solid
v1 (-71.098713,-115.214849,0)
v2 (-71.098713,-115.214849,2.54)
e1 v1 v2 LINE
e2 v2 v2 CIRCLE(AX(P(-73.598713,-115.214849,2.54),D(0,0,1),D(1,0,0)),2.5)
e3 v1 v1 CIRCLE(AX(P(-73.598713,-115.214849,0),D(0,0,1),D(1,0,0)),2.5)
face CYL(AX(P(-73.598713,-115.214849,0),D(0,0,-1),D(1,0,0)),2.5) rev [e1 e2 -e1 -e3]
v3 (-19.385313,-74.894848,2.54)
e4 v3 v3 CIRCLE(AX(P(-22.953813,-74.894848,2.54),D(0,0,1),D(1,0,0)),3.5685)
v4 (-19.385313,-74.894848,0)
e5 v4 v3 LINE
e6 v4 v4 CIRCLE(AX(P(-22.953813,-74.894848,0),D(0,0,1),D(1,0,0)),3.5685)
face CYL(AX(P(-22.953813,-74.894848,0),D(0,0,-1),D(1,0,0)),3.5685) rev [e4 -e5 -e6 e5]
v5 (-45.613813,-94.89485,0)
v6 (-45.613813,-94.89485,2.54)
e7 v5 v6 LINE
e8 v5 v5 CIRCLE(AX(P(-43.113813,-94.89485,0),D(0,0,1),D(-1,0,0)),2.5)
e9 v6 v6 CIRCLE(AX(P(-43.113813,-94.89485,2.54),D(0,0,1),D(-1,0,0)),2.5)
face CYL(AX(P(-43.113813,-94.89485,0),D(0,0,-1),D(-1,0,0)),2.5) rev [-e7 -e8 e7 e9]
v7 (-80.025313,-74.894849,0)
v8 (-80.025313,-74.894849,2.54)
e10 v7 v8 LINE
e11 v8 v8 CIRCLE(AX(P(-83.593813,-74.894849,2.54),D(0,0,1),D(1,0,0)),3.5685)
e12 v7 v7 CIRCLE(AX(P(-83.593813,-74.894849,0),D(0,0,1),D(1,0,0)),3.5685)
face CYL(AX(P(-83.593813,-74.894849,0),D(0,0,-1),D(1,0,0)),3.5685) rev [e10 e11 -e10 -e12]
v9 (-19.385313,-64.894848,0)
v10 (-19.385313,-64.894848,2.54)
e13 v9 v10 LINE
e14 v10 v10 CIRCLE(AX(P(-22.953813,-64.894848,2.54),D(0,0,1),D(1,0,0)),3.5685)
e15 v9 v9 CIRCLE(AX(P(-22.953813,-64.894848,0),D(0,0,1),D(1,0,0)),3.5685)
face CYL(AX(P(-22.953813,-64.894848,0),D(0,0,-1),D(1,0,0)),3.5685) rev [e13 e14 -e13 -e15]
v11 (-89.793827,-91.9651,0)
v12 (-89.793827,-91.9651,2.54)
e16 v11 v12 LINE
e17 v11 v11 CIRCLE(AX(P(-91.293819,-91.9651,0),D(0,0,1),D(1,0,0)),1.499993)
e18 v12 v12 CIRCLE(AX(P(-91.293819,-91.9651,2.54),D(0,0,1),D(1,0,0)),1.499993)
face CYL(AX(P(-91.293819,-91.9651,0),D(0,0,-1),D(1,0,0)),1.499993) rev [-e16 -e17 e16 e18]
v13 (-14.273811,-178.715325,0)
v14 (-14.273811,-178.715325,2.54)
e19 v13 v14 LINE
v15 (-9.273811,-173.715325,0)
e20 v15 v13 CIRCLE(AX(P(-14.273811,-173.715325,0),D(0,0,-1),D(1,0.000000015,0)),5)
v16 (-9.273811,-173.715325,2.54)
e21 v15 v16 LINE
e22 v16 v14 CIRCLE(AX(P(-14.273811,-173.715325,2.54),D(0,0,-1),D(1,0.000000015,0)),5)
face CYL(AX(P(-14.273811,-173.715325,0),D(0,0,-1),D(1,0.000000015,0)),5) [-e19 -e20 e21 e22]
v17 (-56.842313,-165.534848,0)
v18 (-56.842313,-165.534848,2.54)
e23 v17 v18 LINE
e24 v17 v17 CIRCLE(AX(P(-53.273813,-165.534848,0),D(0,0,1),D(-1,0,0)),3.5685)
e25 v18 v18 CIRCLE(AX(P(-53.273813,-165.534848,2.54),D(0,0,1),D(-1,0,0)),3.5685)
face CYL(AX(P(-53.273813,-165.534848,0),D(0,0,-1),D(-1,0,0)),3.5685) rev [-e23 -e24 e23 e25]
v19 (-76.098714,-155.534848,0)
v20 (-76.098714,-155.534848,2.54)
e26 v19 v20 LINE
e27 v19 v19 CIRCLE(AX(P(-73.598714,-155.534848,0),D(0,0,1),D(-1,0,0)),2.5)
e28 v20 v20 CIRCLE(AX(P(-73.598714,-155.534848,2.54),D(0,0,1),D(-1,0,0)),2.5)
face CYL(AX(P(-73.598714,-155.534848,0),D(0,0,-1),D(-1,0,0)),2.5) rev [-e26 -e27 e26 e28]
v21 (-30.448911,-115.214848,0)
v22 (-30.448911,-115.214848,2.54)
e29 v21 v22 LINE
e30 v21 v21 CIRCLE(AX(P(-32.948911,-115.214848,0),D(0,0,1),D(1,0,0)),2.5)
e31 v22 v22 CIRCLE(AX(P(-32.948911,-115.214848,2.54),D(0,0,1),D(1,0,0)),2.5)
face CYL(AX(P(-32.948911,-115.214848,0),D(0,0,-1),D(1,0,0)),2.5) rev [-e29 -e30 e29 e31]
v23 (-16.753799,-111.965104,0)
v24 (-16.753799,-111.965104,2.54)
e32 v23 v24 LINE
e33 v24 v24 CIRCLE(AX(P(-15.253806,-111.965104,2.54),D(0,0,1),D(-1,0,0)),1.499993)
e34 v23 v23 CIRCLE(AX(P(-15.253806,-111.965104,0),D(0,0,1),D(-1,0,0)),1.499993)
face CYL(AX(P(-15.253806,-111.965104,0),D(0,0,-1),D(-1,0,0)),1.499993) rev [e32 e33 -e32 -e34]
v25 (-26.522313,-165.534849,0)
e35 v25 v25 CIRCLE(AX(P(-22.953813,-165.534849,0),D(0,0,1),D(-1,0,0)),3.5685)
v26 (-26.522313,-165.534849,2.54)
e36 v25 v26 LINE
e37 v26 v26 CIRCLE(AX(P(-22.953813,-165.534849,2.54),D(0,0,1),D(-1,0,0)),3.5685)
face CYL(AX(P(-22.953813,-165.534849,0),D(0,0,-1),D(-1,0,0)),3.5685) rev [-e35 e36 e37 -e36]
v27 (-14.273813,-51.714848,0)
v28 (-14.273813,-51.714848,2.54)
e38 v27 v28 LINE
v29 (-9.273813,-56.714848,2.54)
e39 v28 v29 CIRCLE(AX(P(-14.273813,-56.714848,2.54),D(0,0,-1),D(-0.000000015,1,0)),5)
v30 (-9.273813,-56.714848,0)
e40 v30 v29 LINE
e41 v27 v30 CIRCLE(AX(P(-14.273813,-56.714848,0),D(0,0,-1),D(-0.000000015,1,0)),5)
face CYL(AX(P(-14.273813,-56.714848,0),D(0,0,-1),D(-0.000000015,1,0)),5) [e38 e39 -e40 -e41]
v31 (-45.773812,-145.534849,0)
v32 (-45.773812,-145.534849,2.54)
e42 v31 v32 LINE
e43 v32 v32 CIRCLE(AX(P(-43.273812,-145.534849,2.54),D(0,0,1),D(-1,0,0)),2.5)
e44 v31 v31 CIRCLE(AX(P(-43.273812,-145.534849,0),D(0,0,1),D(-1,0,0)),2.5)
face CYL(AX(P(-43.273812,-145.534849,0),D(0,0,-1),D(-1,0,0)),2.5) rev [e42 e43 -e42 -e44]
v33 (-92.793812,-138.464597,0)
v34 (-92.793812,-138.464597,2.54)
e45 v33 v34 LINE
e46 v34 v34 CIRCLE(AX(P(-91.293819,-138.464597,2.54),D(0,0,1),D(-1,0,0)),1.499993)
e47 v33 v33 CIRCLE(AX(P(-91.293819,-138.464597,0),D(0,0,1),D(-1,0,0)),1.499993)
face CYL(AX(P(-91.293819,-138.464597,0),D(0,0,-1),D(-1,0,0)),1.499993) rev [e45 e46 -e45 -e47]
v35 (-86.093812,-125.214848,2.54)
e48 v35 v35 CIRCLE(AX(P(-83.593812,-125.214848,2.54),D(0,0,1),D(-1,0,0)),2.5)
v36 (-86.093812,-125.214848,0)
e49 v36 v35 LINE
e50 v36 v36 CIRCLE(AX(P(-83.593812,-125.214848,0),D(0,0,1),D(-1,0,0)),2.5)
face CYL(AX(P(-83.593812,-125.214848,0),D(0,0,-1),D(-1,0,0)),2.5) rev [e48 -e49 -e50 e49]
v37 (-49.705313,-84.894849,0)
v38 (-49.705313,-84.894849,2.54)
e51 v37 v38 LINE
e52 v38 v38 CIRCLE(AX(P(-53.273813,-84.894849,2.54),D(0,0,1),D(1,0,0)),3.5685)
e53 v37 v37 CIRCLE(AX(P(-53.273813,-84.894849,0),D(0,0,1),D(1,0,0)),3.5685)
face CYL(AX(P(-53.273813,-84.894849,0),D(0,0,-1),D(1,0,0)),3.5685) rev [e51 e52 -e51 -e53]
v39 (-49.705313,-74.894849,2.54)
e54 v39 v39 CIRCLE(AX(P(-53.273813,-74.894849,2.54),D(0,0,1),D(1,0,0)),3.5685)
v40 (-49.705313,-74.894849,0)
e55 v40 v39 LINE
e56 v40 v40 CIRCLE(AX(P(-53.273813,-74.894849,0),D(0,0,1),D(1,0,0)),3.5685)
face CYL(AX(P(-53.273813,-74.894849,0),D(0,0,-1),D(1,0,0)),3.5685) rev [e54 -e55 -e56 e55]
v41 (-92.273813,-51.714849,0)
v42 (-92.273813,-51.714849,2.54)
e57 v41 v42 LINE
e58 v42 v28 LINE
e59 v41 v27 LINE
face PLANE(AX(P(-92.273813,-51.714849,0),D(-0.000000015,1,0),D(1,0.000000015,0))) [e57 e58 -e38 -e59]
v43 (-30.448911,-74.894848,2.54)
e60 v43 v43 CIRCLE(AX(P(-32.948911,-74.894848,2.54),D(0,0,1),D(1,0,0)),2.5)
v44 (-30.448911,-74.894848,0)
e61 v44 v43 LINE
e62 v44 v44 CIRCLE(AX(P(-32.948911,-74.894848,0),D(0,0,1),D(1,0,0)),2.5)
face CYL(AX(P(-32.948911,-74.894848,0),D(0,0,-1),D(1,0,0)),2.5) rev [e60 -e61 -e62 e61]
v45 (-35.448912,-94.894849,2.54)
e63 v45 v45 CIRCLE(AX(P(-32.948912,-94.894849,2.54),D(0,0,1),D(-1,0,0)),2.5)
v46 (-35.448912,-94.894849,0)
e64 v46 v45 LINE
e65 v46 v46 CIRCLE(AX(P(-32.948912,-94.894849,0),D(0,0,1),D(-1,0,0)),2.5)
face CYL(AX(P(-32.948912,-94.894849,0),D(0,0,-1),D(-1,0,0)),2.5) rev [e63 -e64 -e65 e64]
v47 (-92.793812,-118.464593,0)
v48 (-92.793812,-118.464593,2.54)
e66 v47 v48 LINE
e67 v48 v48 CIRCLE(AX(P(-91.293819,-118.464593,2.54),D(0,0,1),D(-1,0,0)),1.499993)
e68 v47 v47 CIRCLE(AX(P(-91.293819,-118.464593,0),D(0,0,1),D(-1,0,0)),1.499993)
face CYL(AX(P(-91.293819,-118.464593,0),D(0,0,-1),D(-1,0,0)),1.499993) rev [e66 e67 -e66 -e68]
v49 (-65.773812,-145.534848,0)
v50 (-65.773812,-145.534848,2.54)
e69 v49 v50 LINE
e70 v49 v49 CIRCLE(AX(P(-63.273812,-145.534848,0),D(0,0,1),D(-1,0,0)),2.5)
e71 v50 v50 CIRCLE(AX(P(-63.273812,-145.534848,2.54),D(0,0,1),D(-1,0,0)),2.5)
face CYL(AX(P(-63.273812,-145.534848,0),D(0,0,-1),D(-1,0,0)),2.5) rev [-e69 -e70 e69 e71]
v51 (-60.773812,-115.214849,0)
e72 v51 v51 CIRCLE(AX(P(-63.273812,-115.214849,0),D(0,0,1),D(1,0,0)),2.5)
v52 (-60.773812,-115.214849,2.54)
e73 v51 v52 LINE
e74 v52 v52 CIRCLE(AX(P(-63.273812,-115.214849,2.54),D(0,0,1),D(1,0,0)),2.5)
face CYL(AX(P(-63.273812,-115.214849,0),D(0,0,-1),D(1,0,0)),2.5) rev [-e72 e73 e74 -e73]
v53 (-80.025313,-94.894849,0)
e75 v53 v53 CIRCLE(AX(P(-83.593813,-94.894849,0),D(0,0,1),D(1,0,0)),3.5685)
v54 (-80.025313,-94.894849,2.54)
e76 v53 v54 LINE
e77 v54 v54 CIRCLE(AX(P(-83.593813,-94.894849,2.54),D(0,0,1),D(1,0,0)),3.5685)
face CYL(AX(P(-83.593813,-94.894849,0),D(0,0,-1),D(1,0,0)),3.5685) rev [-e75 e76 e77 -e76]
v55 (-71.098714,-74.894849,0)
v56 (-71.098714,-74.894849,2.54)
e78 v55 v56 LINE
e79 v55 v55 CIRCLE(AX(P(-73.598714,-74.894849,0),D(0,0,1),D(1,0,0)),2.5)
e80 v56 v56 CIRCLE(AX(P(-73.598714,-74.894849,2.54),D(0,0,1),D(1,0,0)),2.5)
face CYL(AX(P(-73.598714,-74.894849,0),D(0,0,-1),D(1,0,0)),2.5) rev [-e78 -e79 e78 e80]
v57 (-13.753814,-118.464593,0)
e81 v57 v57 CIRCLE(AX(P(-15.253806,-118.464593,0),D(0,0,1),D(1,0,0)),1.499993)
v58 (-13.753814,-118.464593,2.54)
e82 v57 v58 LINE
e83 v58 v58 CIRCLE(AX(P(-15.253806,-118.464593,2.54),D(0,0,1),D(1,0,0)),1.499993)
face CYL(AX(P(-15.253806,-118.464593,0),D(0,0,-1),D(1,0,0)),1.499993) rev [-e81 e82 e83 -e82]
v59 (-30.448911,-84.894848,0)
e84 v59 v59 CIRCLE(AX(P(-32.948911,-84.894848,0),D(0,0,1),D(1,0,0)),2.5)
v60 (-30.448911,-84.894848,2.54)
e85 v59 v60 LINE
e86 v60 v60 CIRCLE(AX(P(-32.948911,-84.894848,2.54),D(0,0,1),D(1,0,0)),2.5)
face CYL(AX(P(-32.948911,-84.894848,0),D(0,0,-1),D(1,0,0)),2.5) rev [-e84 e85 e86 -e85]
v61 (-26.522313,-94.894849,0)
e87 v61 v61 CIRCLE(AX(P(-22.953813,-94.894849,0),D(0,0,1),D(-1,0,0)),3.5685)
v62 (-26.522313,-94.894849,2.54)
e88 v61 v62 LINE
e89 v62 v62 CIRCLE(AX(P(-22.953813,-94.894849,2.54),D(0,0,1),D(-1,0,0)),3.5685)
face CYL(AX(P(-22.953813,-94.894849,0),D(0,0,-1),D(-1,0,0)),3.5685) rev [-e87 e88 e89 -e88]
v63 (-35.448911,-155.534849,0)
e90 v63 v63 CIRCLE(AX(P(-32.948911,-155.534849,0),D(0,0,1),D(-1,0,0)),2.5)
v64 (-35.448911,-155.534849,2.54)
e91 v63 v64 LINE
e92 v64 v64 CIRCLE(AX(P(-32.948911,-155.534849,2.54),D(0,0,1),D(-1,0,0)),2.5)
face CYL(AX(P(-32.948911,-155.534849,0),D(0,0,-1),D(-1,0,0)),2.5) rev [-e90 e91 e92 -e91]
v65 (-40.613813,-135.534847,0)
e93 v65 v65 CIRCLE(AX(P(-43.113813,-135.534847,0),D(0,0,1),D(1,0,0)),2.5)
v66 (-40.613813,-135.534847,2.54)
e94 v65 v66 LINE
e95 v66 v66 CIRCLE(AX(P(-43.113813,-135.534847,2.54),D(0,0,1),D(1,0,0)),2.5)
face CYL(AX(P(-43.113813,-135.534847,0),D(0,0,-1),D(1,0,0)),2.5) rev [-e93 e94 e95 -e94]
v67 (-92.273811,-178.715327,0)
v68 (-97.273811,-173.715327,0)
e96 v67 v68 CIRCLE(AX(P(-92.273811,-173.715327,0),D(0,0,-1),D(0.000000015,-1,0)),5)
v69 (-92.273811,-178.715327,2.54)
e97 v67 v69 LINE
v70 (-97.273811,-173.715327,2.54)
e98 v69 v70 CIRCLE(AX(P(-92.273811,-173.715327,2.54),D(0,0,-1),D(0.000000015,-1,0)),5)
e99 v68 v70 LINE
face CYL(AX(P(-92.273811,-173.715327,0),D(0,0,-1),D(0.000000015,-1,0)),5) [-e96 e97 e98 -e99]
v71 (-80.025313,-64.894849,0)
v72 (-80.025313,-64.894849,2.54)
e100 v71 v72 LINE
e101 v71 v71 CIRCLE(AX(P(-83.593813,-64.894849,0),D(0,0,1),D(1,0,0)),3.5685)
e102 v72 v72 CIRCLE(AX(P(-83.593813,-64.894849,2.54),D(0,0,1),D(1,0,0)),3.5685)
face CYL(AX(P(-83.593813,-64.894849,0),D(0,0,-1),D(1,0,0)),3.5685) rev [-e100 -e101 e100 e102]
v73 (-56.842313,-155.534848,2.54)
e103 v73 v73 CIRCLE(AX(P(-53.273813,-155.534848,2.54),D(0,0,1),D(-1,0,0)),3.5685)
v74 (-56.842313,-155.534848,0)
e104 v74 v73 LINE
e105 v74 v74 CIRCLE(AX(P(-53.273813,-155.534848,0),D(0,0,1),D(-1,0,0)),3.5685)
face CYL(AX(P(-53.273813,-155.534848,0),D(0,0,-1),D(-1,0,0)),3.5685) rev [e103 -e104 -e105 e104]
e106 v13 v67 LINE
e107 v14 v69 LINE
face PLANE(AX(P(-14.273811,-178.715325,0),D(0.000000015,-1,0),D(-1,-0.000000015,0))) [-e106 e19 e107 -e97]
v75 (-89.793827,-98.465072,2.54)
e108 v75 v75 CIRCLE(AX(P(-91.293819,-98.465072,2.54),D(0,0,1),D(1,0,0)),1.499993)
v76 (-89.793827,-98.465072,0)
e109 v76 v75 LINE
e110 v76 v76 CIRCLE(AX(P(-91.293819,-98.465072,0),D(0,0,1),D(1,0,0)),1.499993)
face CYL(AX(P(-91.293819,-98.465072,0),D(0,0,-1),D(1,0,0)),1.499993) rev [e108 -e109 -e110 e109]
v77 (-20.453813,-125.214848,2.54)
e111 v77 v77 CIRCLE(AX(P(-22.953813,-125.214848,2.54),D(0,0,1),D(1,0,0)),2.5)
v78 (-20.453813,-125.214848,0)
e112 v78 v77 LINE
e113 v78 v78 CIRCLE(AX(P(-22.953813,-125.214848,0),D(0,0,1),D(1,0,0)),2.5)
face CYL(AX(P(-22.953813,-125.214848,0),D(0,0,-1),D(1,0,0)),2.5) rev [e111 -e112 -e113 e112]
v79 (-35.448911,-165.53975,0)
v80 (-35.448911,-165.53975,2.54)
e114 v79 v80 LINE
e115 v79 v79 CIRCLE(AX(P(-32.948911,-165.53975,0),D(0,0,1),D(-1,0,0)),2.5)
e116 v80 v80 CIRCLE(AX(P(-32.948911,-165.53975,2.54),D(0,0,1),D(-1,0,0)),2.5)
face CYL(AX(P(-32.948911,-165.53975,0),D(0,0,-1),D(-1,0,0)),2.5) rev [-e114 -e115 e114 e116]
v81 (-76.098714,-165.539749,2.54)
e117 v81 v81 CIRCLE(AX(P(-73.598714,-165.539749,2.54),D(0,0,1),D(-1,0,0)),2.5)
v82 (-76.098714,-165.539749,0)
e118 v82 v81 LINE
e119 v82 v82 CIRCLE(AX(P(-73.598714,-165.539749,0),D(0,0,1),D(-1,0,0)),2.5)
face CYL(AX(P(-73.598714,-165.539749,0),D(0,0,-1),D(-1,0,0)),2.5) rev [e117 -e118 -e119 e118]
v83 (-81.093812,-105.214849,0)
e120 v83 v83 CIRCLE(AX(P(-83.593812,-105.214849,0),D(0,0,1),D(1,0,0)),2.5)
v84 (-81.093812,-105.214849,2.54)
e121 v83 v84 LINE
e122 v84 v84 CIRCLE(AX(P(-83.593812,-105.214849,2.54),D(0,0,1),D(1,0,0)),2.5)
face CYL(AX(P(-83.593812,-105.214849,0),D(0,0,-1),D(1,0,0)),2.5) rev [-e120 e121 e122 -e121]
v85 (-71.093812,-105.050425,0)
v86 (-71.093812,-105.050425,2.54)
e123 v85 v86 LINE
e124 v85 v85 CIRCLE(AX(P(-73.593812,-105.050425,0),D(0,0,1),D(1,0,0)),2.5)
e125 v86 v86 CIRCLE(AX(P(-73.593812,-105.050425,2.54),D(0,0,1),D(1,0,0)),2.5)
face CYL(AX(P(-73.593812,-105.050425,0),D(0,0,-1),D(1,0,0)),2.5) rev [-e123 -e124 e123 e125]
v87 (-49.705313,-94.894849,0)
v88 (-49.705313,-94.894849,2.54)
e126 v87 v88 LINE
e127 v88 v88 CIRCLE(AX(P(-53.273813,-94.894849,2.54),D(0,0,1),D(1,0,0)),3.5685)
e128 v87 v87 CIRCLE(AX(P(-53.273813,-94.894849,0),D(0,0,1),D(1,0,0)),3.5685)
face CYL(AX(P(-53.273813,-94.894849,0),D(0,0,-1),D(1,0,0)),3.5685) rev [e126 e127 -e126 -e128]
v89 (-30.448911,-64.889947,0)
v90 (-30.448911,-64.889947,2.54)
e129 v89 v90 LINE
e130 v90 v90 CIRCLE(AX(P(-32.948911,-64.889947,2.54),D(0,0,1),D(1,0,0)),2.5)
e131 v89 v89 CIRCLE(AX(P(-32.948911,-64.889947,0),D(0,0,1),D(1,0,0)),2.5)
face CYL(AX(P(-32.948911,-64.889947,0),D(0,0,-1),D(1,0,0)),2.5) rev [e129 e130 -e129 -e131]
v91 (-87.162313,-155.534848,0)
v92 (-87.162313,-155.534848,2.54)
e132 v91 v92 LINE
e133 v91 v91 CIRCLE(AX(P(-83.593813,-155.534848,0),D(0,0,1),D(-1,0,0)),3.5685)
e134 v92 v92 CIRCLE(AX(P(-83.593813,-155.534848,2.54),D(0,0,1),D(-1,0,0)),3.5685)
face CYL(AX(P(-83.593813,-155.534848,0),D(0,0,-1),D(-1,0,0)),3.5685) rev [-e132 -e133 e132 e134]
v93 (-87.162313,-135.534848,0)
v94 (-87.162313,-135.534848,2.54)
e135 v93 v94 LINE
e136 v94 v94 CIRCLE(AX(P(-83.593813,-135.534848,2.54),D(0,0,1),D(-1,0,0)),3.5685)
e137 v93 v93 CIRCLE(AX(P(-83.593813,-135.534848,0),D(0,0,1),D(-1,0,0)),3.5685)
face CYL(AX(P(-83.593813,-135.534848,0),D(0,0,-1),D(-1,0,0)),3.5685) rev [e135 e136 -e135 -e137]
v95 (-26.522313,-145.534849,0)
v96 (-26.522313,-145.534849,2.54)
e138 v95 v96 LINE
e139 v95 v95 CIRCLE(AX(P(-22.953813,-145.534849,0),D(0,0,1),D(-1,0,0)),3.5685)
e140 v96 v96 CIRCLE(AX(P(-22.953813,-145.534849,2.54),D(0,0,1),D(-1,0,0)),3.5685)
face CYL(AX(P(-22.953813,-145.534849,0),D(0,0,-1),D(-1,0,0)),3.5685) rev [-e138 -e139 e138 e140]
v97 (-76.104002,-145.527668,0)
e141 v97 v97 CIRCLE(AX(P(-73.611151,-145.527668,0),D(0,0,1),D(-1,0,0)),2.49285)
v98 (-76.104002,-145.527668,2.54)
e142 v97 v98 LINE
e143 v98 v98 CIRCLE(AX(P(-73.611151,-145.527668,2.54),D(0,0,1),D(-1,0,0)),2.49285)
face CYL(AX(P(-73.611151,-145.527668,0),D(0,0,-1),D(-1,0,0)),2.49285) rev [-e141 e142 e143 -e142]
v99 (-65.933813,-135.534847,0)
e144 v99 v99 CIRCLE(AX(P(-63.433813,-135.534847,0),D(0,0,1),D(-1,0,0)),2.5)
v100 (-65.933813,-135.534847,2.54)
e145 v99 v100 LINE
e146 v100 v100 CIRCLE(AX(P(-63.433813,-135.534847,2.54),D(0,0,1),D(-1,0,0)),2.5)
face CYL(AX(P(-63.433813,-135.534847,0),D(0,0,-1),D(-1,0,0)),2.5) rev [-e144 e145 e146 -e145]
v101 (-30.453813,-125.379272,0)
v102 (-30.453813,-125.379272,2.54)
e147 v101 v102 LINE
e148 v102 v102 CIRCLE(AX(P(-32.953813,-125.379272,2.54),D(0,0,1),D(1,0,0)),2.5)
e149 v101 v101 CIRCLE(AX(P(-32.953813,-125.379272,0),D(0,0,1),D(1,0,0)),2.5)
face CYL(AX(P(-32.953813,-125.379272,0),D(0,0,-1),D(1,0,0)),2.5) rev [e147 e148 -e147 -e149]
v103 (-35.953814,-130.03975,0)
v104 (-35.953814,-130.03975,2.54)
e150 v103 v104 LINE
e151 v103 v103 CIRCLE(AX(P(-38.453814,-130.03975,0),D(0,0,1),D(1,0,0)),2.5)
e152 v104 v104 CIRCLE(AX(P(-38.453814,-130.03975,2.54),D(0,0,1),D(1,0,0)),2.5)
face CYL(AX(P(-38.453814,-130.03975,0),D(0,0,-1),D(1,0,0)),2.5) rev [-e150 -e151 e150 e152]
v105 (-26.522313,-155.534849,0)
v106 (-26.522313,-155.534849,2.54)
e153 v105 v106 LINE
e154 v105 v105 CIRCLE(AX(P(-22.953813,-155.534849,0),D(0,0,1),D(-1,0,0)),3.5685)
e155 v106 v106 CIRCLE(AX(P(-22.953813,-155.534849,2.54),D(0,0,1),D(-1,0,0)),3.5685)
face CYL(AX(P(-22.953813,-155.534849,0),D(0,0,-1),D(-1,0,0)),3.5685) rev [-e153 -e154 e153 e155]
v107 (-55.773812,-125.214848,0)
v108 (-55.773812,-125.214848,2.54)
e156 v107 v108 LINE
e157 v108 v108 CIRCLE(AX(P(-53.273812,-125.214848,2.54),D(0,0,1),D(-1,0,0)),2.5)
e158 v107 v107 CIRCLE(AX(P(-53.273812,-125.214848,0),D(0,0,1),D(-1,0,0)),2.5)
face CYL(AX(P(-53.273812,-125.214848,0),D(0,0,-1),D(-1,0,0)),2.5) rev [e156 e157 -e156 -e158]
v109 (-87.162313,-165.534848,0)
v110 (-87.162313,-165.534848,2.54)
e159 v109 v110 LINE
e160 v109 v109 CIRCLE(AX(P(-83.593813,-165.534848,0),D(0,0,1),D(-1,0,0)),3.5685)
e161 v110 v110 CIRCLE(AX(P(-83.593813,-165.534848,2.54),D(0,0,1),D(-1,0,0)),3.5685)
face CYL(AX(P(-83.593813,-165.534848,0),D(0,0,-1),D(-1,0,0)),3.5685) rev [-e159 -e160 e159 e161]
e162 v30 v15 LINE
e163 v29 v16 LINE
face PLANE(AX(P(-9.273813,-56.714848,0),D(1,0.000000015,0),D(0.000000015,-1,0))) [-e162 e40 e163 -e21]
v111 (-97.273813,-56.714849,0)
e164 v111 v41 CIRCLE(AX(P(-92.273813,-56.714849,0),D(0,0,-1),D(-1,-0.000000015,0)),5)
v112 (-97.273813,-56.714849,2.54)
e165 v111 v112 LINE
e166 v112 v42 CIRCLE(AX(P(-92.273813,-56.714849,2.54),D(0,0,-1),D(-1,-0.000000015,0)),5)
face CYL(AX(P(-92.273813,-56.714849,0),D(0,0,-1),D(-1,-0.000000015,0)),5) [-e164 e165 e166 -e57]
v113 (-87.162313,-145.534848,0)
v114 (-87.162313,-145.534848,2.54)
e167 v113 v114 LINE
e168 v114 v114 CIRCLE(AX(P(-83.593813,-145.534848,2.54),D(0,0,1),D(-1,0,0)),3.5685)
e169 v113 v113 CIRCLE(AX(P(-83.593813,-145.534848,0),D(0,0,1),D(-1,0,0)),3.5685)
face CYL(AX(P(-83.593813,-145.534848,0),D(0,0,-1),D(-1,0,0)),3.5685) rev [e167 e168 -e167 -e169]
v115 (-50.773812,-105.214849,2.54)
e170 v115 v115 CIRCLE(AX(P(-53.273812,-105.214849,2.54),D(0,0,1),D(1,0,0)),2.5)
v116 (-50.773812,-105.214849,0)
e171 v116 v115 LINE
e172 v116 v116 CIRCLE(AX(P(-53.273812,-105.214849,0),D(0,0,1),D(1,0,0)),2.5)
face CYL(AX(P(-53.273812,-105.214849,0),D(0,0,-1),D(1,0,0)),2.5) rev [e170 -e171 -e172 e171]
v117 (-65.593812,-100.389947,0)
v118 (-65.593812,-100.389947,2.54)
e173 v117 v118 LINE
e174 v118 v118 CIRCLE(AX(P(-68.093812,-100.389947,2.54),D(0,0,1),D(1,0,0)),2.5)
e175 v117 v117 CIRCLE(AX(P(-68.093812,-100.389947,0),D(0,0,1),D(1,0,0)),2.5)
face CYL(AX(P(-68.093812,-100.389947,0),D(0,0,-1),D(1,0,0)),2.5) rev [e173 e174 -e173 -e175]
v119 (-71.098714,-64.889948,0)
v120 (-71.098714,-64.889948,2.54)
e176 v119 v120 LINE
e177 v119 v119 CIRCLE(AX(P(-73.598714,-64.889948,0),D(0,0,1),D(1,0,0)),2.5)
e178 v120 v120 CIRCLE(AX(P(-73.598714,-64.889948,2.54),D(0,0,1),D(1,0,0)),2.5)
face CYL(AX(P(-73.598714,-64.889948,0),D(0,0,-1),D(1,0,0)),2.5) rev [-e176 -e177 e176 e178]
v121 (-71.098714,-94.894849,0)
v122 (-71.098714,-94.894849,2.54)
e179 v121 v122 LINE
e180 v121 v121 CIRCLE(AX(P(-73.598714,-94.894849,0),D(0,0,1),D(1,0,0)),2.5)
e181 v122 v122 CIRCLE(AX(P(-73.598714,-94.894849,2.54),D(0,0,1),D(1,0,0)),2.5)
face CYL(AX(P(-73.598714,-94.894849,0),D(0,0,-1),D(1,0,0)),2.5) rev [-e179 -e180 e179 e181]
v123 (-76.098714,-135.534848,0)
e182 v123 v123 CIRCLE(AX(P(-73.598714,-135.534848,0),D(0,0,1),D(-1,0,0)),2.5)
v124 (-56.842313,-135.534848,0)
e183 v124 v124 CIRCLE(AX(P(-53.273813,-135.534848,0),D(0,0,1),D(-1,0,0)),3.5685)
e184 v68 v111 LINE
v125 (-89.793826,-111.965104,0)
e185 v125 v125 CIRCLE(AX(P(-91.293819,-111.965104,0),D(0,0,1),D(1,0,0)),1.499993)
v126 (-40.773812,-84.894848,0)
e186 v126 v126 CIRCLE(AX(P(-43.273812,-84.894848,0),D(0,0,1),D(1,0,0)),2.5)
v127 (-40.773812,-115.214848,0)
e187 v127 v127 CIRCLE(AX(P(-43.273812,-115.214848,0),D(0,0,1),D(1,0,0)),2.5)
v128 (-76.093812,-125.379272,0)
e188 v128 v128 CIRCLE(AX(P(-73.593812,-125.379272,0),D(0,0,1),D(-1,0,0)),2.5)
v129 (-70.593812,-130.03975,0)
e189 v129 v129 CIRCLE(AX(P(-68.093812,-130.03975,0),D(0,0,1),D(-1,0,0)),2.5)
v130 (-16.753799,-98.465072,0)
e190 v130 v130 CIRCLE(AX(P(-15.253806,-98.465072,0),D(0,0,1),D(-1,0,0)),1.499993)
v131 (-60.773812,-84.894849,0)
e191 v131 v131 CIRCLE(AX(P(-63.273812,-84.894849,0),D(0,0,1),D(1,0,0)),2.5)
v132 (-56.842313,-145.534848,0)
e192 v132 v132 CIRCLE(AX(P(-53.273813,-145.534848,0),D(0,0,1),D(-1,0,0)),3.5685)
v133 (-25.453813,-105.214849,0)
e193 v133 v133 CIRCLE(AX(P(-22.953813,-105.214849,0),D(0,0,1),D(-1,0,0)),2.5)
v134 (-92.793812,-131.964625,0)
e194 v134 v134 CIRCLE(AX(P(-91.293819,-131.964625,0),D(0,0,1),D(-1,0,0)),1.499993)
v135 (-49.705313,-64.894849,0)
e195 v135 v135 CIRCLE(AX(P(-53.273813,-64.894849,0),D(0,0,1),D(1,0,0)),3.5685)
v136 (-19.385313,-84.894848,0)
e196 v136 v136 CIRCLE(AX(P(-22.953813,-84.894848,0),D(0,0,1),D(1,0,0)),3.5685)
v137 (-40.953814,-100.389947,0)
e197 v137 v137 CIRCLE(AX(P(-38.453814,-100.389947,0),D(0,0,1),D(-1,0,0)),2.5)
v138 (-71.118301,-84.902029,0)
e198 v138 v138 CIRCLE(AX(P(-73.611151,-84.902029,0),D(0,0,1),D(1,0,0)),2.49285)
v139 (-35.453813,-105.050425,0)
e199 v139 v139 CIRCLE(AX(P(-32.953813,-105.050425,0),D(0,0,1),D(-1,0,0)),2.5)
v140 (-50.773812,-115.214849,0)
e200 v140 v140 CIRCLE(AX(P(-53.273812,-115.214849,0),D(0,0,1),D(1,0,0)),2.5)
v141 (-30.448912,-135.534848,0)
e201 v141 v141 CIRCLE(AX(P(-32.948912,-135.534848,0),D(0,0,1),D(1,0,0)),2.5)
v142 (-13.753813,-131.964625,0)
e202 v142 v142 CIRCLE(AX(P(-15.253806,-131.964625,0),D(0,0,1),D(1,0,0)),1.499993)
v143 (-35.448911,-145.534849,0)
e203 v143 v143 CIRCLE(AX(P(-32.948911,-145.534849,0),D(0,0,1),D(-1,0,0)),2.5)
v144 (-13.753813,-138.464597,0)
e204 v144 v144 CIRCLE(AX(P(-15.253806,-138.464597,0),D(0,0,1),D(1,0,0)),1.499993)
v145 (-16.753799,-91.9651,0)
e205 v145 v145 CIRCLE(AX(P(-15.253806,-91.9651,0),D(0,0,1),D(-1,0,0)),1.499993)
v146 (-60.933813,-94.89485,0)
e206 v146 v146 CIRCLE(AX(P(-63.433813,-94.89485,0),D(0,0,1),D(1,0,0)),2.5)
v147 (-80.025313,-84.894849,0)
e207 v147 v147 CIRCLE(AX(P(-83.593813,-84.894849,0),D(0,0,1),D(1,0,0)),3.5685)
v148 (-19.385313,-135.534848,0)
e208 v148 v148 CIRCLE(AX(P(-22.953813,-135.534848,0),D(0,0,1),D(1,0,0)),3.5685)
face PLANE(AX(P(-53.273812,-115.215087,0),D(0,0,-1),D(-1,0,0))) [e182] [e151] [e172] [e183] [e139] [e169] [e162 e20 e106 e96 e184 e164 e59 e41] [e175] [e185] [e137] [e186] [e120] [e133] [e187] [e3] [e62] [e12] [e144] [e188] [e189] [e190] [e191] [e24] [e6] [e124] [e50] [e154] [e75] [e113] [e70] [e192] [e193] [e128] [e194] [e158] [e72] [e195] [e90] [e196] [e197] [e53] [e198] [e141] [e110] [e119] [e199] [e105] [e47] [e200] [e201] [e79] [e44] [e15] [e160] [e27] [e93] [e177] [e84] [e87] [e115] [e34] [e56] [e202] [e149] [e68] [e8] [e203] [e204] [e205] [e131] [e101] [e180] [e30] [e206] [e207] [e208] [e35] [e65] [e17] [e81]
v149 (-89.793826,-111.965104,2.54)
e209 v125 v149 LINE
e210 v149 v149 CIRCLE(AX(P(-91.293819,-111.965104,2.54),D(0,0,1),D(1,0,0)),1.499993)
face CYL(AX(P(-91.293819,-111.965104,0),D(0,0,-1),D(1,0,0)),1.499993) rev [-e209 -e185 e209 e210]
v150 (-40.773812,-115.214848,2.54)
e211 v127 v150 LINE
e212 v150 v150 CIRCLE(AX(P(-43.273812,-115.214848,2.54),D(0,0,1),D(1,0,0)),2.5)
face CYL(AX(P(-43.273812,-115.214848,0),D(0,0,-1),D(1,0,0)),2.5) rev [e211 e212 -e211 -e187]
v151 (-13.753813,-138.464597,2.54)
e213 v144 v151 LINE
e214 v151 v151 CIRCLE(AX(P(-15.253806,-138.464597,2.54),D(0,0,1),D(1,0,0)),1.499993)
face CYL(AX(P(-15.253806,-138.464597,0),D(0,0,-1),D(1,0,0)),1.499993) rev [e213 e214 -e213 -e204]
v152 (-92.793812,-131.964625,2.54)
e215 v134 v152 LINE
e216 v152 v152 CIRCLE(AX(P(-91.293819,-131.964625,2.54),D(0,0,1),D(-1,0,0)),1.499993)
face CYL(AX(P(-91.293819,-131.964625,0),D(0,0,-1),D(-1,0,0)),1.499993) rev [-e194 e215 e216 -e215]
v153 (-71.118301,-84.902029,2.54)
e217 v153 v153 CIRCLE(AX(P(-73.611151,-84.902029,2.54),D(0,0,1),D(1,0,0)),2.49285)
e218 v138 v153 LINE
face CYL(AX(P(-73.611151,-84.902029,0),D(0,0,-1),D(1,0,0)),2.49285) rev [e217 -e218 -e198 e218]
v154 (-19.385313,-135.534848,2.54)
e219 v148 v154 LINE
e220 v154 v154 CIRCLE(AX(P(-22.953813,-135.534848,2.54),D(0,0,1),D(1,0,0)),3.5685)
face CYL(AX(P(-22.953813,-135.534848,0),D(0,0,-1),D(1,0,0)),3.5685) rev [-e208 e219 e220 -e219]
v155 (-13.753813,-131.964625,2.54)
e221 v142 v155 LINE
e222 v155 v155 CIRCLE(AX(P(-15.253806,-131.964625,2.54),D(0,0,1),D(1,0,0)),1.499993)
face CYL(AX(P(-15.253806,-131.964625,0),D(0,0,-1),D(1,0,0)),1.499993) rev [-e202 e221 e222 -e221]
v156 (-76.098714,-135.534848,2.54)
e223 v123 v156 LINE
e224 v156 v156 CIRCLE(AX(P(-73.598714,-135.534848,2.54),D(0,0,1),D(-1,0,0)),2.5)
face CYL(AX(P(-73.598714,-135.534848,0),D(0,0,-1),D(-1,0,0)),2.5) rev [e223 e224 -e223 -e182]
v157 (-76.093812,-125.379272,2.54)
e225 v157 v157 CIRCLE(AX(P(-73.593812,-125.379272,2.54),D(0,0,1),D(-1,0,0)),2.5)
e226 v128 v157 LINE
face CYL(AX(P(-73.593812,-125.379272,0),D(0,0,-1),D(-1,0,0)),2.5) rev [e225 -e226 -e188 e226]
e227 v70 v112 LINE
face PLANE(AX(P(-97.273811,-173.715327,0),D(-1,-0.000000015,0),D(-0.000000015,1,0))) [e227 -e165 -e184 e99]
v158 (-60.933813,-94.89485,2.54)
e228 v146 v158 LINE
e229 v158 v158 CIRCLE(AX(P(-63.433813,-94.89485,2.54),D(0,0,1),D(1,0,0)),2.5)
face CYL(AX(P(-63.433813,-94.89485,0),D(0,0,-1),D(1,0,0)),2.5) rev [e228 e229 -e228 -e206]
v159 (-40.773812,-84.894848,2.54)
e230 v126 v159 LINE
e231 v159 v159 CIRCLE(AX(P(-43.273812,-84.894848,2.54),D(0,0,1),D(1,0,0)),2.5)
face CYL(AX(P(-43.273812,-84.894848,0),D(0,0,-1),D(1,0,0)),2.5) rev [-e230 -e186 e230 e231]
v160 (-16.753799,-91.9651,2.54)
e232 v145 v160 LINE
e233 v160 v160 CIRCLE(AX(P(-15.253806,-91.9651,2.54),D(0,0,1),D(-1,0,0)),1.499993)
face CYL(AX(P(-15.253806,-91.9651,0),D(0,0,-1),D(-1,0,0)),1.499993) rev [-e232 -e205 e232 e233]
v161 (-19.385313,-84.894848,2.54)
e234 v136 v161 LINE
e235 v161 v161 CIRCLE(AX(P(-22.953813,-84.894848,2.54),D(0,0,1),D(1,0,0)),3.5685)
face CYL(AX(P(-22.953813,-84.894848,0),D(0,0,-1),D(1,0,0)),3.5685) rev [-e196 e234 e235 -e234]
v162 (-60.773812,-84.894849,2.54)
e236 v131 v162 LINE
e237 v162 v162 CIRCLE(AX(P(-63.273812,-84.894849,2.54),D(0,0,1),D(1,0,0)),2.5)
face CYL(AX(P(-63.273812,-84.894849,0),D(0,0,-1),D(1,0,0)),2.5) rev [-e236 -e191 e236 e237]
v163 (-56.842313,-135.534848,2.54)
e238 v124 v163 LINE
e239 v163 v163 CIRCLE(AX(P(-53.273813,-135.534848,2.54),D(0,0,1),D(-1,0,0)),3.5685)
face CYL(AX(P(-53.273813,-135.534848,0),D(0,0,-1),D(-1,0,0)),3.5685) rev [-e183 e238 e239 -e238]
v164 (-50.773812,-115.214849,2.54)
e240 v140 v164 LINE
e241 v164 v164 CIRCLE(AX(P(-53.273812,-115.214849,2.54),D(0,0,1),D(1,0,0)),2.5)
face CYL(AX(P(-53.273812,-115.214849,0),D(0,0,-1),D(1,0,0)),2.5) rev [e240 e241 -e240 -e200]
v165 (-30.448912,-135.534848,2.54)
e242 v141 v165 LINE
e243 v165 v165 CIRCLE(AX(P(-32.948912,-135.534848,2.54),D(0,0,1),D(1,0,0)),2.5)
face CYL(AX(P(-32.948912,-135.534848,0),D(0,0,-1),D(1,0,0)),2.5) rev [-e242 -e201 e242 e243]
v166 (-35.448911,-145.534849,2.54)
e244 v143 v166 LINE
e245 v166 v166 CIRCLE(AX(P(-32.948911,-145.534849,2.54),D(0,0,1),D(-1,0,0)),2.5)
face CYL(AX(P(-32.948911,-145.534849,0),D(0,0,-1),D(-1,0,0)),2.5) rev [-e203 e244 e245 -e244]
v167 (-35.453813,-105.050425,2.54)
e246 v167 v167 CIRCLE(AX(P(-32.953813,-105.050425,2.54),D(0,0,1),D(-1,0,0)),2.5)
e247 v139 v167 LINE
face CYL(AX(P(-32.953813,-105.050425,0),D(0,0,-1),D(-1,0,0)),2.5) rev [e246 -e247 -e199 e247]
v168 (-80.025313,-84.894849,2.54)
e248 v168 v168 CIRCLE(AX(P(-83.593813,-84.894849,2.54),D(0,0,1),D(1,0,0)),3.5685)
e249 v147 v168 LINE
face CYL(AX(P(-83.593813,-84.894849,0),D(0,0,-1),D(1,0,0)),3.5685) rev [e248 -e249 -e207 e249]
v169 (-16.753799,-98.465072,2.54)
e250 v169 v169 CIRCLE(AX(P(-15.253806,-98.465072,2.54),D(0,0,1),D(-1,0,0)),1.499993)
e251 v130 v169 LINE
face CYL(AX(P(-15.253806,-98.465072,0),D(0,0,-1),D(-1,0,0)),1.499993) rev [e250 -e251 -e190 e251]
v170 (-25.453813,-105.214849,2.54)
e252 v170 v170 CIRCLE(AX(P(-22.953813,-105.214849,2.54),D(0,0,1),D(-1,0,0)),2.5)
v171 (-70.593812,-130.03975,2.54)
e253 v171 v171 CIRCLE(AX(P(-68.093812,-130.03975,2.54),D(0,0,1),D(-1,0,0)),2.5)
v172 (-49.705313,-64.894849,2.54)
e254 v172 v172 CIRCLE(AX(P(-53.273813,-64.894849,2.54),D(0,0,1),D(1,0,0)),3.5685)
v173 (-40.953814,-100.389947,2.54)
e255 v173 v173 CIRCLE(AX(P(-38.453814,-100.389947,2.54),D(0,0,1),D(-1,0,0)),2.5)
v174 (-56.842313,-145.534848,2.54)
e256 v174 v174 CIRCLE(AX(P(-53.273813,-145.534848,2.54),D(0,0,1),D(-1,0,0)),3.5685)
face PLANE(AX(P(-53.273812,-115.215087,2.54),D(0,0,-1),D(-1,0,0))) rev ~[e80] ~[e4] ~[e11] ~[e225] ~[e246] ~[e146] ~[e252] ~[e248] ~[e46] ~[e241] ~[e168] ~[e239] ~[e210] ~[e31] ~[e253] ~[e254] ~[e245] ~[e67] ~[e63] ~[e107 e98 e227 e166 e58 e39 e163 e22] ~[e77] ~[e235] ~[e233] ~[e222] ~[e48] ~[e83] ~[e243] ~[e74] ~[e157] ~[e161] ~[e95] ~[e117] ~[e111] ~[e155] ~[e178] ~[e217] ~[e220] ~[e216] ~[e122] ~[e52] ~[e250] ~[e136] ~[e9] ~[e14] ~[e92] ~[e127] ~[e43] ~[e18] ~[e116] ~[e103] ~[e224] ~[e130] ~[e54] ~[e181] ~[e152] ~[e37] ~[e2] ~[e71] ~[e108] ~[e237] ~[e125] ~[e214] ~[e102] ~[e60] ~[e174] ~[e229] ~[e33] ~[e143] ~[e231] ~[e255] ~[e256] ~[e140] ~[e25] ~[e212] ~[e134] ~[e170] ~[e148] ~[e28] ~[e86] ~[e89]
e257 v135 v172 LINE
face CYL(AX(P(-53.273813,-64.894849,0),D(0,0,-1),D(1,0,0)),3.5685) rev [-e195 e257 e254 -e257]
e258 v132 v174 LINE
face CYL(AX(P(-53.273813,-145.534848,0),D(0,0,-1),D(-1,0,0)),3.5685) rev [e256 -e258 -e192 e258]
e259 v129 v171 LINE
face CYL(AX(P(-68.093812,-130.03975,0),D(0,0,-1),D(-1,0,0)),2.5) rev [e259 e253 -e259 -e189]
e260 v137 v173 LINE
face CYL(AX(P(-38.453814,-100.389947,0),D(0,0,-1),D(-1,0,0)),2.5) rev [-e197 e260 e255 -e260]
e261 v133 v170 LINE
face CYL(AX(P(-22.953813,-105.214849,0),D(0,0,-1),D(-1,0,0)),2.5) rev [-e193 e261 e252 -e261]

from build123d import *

# Parameters (mm, degrees)
SKETCH2_R           = 3.5685
SKETCH2_R_2         = 2.500000207
SKETCH2_R_3         = 2.500000038
SKETCH2_R_4         = 2.492850486
SKETCH2_R_5         = 1.499992866
SKETCH2_R_6         = 2.500000001
SKETCH2_R_7         = 2.492850485
BOSS_EXTRUDE1_DEPTH = 2.54


with BuildPart() as part:
    # Sketch2 → Boss-Extrude1 (new body)
    with BuildSketch(Plane.XY):
        with BuildLine():
            Line((-92.273812965, -51.714849286), (-14.273812965, -51.714848152))
            ThreePointArc((-14.273812965, -51.714848152), (-10.738279038, -53.179314194), (-9.273812892, -56.714848078))
            Line((-9.273812892, -56.714848078), (-9.273811154, -173.715325349))
            ThreePointArc((-9.273811154, -173.715325349), (-10.738277196, -177.250859277), (-14.273811081, -178.715325423))
            Line((-14.273811081, -178.715325423), (-92.273811081, -178.715326558))
            ThreePointArc((-92.273811081, -178.715326558), (-95.809345008, -177.250860516), (-97.273811154, -173.715326632))
            Line((-97.273811154, -173.715326632), (-97.273812892, -56.714849361))
            ThreePointArc((-97.273812892, -56.714849361), (-95.80934685, -53.179315433), (-92.273812965, -51.714849286))
        make_face()
        with Locations((-83.593812773, -64.894849171)):
            Circle(SKETCH2_R, mode=Mode.SUBTRACT)
        with Locations((-73.598714259, -64.889947536)):
            Circle(SKETCH2_R_2, mode=Mode.SUBTRACT)
        with Locations((-53.273812773, -64.894848719)):
            Circle(SKETCH2_R, mode=Mode.SUBTRACT)
        with Locations((-32.948911283, -64.88994693)):
            Circle(SKETCH2_R_2, mode=Mode.SUBTRACT)
        with Locations((-22.953812773, -64.894848267)):
            Circle(SKETCH2_R, mode=Mode.SUBTRACT)
        with Locations((-83.593812773, -74.894849171)):
            Circle(SKETCH2_R, mode=Mode.SUBTRACT)
        with Locations((-73.598714077, -74.894848647)):
            Circle(SKETCH2_R_3, mode=Mode.SUBTRACT)
        with Locations((-53.273812773, -74.894848719)):
            Circle(SKETCH2_R, mode=Mode.SUBTRACT)
        with Locations((-32.948911213, -74.89484821)):
            Circle(SKETCH2_R_3, mode=Mode.SUBTRACT)
        with Locations((-22.953812773, -74.894848267)):
            Circle(SKETCH2_R, mode=Mode.SUBTRACT)
        with Locations((-22.953812773, -84.894848267)):
            Circle(SKETCH2_R, mode=Mode.SUBTRACT)
        with Locations((-32.948911064, -84.89484821)):
            Circle(SKETCH2_R_3, mode=Mode.SUBTRACT)
        with Locations((-43.273812429, -84.894848364)):
            Circle(SKETCH2_R_3, mode=Mode.SUBTRACT)
        with Locations((-53.273812773, -84.894848719)):
            Circle(SKETCH2_R, mode=Mode.SUBTRACT)
        with Locations((-83.593812773, -84.894849171)):
            Circle(SKETCH2_R, mode=Mode.SUBTRACT)
        with Locations((-73.611151054, -84.902029225)):
            Circle(SKETCH2_R_4, mode=Mode.SUBTRACT)
        with Locations((-63.273812446, -84.894849)):
            Circle(SKETCH2_R_3, mode=Mode.SUBTRACT)
        with Locations((-83.593812773, -94.894849171)):
            Circle(SKETCH2_R, mode=Mode.SUBTRACT)
        with Locations((-73.598713779, -94.894848647)):
            Circle(SKETCH2_R_3, mode=Mode.SUBTRACT)
        with Locations((-63.433812595, -94.89485049)):
            Circle(SKETCH2_R_3, mode=Mode.SUBTRACT)
        with Locations((-53.273812773, -94.894848719)):
            Circle(SKETCH2_R, mode=Mode.SUBTRACT)
        with Locations((-68.09381174, -100.389947487)):
            Circle(SKETCH2_R_2, mode=Mode.SUBTRACT)
        with Locations((-91.293819406, -91.965099732)):
            Circle(SKETCH2_R_5, mode=Mode.SUBTRACT)
        with Locations((-91.293819406, -98.465072086)):
            Circle(SKETCH2_R_5, mode=Mode.SUBTRACT)
        with Locations((-91.293819108, -111.965103757)):
            Circle(SKETCH2_R_5, mode=Mode.SUBTRACT)
        with Locations((-83.593812304, -105.214849125)):
            Circle(SKETCH2_R_3, mode=Mode.SUBTRACT)
        with Locations((-73.593812423, -105.050424838)):
            Circle(SKETCH2_R_3, mode=Mode.SUBTRACT)
        with Locations((-73.598713476, -115.214848518)):
            Circle(SKETCH2_R_3, mode=Mode.SUBTRACT)
        with Locations((-63.273811994, -115.214848871)):
            Circle(SKETCH2_R_3, mode=Mode.SUBTRACT)
        with Locations((-53.273812023, -115.214848719)):
            Circle(SKETCH2_R_6, mode=Mode.SUBTRACT)
        with Locations((-53.273812447, -105.214848674)):
            Circle(SKETCH2_R_3, mode=Mode.SUBTRACT)
        with Locations((-15.253806438, -111.965103757)):
            Circle(SKETCH2_R_5, mode=Mode.SUBTRACT)
        with Locations((-15.25380614, -91.965099732)):
            Circle(SKETCH2_R_5, mode=Mode.SUBTRACT)
        with Locations((-15.25380614, -98.465072086)):
            Circle(SKETCH2_R_5, mode=Mode.SUBTRACT)
        with Locations((-22.953812773, -94.894849171)):
            Circle(SKETCH2_R, mode=Mode.SUBTRACT)
        with Locations((-22.953813242, -105.214849125)):
            Circle(SKETCH2_R_3, mode=Mode.SUBTRACT)
        with Locations((-32.948911767, -94.894848647)):
            Circle(SKETCH2_R_3, mode=Mode.SUBTRACT)
        with Locations((-32.953813123, -105.050424838)):
            Circle(SKETCH2_R_3, mode=Mode.SUBTRACT)
        with Locations((-38.453813806, -100.389947487)):
            Circle(SKETCH2_R_2, mode=Mode.SUBTRACT)
        with Locations((-43.113812951, -94.89485049)):
            Circle(SKETCH2_R_3, mode=Mode.SUBTRACT)
        with Locations((-43.273811978, -115.214848235)):
            Circle(SKETCH2_R_3, mode=Mode.SUBTRACT)
        with Locations((-32.948910612, -115.214848081)):
            Circle(SKETCH2_R_3, mode=Mode.SUBTRACT)
        with Locations((-15.25380614, -138.464597304)):
            Circle(SKETCH2_R_5, mode=Mode.SUBTRACT)
        with Locations((-15.25380614, -131.96462495)):
            Circle(SKETCH2_R_5, mode=Mode.SUBTRACT)
        with Locations((-15.253806438, -118.464593279)):
            Circle(SKETCH2_R_5, mode=Mode.SUBTRACT)
        with Locations((-22.953813242, -125.214847911)):
            Circle(SKETCH2_R_3, mode=Mode.SUBTRACT)
        with Locations((-22.953812773, -135.534847865)):
            Circle(SKETCH2_R, mode=Mode.SUBTRACT)
        with Locations((-22.953812773, -145.534848769)):
            Circle(SKETCH2_R, mode=Mode.SUBTRACT)
        with Locations((-22.953812773, -155.534848769)):
            Circle(SKETCH2_R, mode=Mode.SUBTRACT)
        with Locations((-22.953812773, -165.534848769)):
            Circle(SKETCH2_R, mode=Mode.SUBTRACT)
        with Locations((-32.948911283, -165.539750106)):
            Circle(SKETCH2_R_2, mode=Mode.SUBTRACT)
        with Locations((-32.948911213, -155.534848826)):
            Circle(SKETCH2_R_3, mode=Mode.SUBTRACT)
        with Locations((-32.948911064, -145.534848826)):
            Circle(SKETCH2_R_3, mode=Mode.SUBTRACT)
        with Locations((-32.948911767, -135.534848389)):
            Circle(SKETCH2_R_3, mode=Mode.SUBTRACT)
        with Locations((-38.453813806, -130.039749549)):
            Circle(SKETCH2_R_2, mode=Mode.SUBTRACT)
        with Locations((-32.953813123, -125.379272198)):
            Circle(SKETCH2_R_3, mode=Mode.SUBTRACT)
        with Locations((-43.113812951, -135.534846546)):
            Circle(SKETCH2_R_3, mode=Mode.SUBTRACT)
        with Locations((-43.273812429, -145.534848672)):
            Circle(SKETCH2_R_3, mode=Mode.SUBTRACT)
        with Locations((-53.273812773, -165.534848317)):
            Circle(SKETCH2_R, mode=Mode.SUBTRACT)
        with Locations((-53.273812773, -155.534848317)):
            Circle(SKETCH2_R, mode=Mode.SUBTRACT)
        with Locations((-53.273812773, -145.534848317)):
            Circle(SKETCH2_R, mode=Mode.SUBTRACT)
        with Locations((-53.273812773, -135.534848317)):
            Circle(SKETCH2_R, mode=Mode.SUBTRACT)
        with Locations((-53.273812447, -125.214848362)):
            Circle(SKETCH2_R_3, mode=Mode.SUBTRACT)
        with Locations((-63.273812446, -145.534848036)):
            Circle(SKETCH2_R_3, mode=Mode.SUBTRACT)
        with Locations((-63.433812595, -135.534846546)):
            Circle(SKETCH2_R_3, mode=Mode.SUBTRACT)
        with Locations((-68.09381174, -130.039749549)):
            Circle(SKETCH2_R_2, mode=Mode.SUBTRACT)
        with Locations((-73.593812423, -125.379272198)):
            Circle(SKETCH2_R_3, mode=Mode.SUBTRACT)
        with Locations((-73.598713779, -135.534848389)):
            Circle(SKETCH2_R_3, mode=Mode.SUBTRACT)
        with Locations((-73.611151054, -145.527667811)):
            Circle(SKETCH2_R_7, mode=Mode.SUBTRACT)
        with Locations((-73.598714077, -155.534848389)):
            Circle(SKETCH2_R_3, mode=Mode.SUBTRACT)
        with Locations((-73.598714259, -165.5397495)):
            Circle(SKETCH2_R_2, mode=Mode.SUBTRACT)
        with Locations((-91.293819406, -138.464597304)):
            Circle(SKETCH2_R_5, mode=Mode.SUBTRACT)
        with Locations((-91.293819406, -131.96462495)):
            Circle(SKETCH2_R_5, mode=Mode.SUBTRACT)
        with Locations((-91.293819108, -118.464593279)):
            Circle(SKETCH2_R_5, mode=Mode.SUBTRACT)
        with Locations((-83.593812304, -125.214847911)):
            Circle(SKETCH2_R_3, mode=Mode.SUBTRACT)
        with Locations((-83.593812773, -135.534847865)):
            Circle(SKETCH2_R, mode=Mode.SUBTRACT)
        with Locations((-83.593812773, -145.534847865)):
            Circle(SKETCH2_R, mode=Mode.SUBTRACT)
        with Locations((-83.593812773, -155.534847865)):
            Circle(SKETCH2_R, mode=Mode.SUBTRACT)
        with Locations((-83.593812773, -165.534847865)):
            Circle(SKETCH2_R, mode=Mode.SUBTRACT)
    extrude(amount=BOSS_EXTRUDE1_DEPTH)


solid = part.part
